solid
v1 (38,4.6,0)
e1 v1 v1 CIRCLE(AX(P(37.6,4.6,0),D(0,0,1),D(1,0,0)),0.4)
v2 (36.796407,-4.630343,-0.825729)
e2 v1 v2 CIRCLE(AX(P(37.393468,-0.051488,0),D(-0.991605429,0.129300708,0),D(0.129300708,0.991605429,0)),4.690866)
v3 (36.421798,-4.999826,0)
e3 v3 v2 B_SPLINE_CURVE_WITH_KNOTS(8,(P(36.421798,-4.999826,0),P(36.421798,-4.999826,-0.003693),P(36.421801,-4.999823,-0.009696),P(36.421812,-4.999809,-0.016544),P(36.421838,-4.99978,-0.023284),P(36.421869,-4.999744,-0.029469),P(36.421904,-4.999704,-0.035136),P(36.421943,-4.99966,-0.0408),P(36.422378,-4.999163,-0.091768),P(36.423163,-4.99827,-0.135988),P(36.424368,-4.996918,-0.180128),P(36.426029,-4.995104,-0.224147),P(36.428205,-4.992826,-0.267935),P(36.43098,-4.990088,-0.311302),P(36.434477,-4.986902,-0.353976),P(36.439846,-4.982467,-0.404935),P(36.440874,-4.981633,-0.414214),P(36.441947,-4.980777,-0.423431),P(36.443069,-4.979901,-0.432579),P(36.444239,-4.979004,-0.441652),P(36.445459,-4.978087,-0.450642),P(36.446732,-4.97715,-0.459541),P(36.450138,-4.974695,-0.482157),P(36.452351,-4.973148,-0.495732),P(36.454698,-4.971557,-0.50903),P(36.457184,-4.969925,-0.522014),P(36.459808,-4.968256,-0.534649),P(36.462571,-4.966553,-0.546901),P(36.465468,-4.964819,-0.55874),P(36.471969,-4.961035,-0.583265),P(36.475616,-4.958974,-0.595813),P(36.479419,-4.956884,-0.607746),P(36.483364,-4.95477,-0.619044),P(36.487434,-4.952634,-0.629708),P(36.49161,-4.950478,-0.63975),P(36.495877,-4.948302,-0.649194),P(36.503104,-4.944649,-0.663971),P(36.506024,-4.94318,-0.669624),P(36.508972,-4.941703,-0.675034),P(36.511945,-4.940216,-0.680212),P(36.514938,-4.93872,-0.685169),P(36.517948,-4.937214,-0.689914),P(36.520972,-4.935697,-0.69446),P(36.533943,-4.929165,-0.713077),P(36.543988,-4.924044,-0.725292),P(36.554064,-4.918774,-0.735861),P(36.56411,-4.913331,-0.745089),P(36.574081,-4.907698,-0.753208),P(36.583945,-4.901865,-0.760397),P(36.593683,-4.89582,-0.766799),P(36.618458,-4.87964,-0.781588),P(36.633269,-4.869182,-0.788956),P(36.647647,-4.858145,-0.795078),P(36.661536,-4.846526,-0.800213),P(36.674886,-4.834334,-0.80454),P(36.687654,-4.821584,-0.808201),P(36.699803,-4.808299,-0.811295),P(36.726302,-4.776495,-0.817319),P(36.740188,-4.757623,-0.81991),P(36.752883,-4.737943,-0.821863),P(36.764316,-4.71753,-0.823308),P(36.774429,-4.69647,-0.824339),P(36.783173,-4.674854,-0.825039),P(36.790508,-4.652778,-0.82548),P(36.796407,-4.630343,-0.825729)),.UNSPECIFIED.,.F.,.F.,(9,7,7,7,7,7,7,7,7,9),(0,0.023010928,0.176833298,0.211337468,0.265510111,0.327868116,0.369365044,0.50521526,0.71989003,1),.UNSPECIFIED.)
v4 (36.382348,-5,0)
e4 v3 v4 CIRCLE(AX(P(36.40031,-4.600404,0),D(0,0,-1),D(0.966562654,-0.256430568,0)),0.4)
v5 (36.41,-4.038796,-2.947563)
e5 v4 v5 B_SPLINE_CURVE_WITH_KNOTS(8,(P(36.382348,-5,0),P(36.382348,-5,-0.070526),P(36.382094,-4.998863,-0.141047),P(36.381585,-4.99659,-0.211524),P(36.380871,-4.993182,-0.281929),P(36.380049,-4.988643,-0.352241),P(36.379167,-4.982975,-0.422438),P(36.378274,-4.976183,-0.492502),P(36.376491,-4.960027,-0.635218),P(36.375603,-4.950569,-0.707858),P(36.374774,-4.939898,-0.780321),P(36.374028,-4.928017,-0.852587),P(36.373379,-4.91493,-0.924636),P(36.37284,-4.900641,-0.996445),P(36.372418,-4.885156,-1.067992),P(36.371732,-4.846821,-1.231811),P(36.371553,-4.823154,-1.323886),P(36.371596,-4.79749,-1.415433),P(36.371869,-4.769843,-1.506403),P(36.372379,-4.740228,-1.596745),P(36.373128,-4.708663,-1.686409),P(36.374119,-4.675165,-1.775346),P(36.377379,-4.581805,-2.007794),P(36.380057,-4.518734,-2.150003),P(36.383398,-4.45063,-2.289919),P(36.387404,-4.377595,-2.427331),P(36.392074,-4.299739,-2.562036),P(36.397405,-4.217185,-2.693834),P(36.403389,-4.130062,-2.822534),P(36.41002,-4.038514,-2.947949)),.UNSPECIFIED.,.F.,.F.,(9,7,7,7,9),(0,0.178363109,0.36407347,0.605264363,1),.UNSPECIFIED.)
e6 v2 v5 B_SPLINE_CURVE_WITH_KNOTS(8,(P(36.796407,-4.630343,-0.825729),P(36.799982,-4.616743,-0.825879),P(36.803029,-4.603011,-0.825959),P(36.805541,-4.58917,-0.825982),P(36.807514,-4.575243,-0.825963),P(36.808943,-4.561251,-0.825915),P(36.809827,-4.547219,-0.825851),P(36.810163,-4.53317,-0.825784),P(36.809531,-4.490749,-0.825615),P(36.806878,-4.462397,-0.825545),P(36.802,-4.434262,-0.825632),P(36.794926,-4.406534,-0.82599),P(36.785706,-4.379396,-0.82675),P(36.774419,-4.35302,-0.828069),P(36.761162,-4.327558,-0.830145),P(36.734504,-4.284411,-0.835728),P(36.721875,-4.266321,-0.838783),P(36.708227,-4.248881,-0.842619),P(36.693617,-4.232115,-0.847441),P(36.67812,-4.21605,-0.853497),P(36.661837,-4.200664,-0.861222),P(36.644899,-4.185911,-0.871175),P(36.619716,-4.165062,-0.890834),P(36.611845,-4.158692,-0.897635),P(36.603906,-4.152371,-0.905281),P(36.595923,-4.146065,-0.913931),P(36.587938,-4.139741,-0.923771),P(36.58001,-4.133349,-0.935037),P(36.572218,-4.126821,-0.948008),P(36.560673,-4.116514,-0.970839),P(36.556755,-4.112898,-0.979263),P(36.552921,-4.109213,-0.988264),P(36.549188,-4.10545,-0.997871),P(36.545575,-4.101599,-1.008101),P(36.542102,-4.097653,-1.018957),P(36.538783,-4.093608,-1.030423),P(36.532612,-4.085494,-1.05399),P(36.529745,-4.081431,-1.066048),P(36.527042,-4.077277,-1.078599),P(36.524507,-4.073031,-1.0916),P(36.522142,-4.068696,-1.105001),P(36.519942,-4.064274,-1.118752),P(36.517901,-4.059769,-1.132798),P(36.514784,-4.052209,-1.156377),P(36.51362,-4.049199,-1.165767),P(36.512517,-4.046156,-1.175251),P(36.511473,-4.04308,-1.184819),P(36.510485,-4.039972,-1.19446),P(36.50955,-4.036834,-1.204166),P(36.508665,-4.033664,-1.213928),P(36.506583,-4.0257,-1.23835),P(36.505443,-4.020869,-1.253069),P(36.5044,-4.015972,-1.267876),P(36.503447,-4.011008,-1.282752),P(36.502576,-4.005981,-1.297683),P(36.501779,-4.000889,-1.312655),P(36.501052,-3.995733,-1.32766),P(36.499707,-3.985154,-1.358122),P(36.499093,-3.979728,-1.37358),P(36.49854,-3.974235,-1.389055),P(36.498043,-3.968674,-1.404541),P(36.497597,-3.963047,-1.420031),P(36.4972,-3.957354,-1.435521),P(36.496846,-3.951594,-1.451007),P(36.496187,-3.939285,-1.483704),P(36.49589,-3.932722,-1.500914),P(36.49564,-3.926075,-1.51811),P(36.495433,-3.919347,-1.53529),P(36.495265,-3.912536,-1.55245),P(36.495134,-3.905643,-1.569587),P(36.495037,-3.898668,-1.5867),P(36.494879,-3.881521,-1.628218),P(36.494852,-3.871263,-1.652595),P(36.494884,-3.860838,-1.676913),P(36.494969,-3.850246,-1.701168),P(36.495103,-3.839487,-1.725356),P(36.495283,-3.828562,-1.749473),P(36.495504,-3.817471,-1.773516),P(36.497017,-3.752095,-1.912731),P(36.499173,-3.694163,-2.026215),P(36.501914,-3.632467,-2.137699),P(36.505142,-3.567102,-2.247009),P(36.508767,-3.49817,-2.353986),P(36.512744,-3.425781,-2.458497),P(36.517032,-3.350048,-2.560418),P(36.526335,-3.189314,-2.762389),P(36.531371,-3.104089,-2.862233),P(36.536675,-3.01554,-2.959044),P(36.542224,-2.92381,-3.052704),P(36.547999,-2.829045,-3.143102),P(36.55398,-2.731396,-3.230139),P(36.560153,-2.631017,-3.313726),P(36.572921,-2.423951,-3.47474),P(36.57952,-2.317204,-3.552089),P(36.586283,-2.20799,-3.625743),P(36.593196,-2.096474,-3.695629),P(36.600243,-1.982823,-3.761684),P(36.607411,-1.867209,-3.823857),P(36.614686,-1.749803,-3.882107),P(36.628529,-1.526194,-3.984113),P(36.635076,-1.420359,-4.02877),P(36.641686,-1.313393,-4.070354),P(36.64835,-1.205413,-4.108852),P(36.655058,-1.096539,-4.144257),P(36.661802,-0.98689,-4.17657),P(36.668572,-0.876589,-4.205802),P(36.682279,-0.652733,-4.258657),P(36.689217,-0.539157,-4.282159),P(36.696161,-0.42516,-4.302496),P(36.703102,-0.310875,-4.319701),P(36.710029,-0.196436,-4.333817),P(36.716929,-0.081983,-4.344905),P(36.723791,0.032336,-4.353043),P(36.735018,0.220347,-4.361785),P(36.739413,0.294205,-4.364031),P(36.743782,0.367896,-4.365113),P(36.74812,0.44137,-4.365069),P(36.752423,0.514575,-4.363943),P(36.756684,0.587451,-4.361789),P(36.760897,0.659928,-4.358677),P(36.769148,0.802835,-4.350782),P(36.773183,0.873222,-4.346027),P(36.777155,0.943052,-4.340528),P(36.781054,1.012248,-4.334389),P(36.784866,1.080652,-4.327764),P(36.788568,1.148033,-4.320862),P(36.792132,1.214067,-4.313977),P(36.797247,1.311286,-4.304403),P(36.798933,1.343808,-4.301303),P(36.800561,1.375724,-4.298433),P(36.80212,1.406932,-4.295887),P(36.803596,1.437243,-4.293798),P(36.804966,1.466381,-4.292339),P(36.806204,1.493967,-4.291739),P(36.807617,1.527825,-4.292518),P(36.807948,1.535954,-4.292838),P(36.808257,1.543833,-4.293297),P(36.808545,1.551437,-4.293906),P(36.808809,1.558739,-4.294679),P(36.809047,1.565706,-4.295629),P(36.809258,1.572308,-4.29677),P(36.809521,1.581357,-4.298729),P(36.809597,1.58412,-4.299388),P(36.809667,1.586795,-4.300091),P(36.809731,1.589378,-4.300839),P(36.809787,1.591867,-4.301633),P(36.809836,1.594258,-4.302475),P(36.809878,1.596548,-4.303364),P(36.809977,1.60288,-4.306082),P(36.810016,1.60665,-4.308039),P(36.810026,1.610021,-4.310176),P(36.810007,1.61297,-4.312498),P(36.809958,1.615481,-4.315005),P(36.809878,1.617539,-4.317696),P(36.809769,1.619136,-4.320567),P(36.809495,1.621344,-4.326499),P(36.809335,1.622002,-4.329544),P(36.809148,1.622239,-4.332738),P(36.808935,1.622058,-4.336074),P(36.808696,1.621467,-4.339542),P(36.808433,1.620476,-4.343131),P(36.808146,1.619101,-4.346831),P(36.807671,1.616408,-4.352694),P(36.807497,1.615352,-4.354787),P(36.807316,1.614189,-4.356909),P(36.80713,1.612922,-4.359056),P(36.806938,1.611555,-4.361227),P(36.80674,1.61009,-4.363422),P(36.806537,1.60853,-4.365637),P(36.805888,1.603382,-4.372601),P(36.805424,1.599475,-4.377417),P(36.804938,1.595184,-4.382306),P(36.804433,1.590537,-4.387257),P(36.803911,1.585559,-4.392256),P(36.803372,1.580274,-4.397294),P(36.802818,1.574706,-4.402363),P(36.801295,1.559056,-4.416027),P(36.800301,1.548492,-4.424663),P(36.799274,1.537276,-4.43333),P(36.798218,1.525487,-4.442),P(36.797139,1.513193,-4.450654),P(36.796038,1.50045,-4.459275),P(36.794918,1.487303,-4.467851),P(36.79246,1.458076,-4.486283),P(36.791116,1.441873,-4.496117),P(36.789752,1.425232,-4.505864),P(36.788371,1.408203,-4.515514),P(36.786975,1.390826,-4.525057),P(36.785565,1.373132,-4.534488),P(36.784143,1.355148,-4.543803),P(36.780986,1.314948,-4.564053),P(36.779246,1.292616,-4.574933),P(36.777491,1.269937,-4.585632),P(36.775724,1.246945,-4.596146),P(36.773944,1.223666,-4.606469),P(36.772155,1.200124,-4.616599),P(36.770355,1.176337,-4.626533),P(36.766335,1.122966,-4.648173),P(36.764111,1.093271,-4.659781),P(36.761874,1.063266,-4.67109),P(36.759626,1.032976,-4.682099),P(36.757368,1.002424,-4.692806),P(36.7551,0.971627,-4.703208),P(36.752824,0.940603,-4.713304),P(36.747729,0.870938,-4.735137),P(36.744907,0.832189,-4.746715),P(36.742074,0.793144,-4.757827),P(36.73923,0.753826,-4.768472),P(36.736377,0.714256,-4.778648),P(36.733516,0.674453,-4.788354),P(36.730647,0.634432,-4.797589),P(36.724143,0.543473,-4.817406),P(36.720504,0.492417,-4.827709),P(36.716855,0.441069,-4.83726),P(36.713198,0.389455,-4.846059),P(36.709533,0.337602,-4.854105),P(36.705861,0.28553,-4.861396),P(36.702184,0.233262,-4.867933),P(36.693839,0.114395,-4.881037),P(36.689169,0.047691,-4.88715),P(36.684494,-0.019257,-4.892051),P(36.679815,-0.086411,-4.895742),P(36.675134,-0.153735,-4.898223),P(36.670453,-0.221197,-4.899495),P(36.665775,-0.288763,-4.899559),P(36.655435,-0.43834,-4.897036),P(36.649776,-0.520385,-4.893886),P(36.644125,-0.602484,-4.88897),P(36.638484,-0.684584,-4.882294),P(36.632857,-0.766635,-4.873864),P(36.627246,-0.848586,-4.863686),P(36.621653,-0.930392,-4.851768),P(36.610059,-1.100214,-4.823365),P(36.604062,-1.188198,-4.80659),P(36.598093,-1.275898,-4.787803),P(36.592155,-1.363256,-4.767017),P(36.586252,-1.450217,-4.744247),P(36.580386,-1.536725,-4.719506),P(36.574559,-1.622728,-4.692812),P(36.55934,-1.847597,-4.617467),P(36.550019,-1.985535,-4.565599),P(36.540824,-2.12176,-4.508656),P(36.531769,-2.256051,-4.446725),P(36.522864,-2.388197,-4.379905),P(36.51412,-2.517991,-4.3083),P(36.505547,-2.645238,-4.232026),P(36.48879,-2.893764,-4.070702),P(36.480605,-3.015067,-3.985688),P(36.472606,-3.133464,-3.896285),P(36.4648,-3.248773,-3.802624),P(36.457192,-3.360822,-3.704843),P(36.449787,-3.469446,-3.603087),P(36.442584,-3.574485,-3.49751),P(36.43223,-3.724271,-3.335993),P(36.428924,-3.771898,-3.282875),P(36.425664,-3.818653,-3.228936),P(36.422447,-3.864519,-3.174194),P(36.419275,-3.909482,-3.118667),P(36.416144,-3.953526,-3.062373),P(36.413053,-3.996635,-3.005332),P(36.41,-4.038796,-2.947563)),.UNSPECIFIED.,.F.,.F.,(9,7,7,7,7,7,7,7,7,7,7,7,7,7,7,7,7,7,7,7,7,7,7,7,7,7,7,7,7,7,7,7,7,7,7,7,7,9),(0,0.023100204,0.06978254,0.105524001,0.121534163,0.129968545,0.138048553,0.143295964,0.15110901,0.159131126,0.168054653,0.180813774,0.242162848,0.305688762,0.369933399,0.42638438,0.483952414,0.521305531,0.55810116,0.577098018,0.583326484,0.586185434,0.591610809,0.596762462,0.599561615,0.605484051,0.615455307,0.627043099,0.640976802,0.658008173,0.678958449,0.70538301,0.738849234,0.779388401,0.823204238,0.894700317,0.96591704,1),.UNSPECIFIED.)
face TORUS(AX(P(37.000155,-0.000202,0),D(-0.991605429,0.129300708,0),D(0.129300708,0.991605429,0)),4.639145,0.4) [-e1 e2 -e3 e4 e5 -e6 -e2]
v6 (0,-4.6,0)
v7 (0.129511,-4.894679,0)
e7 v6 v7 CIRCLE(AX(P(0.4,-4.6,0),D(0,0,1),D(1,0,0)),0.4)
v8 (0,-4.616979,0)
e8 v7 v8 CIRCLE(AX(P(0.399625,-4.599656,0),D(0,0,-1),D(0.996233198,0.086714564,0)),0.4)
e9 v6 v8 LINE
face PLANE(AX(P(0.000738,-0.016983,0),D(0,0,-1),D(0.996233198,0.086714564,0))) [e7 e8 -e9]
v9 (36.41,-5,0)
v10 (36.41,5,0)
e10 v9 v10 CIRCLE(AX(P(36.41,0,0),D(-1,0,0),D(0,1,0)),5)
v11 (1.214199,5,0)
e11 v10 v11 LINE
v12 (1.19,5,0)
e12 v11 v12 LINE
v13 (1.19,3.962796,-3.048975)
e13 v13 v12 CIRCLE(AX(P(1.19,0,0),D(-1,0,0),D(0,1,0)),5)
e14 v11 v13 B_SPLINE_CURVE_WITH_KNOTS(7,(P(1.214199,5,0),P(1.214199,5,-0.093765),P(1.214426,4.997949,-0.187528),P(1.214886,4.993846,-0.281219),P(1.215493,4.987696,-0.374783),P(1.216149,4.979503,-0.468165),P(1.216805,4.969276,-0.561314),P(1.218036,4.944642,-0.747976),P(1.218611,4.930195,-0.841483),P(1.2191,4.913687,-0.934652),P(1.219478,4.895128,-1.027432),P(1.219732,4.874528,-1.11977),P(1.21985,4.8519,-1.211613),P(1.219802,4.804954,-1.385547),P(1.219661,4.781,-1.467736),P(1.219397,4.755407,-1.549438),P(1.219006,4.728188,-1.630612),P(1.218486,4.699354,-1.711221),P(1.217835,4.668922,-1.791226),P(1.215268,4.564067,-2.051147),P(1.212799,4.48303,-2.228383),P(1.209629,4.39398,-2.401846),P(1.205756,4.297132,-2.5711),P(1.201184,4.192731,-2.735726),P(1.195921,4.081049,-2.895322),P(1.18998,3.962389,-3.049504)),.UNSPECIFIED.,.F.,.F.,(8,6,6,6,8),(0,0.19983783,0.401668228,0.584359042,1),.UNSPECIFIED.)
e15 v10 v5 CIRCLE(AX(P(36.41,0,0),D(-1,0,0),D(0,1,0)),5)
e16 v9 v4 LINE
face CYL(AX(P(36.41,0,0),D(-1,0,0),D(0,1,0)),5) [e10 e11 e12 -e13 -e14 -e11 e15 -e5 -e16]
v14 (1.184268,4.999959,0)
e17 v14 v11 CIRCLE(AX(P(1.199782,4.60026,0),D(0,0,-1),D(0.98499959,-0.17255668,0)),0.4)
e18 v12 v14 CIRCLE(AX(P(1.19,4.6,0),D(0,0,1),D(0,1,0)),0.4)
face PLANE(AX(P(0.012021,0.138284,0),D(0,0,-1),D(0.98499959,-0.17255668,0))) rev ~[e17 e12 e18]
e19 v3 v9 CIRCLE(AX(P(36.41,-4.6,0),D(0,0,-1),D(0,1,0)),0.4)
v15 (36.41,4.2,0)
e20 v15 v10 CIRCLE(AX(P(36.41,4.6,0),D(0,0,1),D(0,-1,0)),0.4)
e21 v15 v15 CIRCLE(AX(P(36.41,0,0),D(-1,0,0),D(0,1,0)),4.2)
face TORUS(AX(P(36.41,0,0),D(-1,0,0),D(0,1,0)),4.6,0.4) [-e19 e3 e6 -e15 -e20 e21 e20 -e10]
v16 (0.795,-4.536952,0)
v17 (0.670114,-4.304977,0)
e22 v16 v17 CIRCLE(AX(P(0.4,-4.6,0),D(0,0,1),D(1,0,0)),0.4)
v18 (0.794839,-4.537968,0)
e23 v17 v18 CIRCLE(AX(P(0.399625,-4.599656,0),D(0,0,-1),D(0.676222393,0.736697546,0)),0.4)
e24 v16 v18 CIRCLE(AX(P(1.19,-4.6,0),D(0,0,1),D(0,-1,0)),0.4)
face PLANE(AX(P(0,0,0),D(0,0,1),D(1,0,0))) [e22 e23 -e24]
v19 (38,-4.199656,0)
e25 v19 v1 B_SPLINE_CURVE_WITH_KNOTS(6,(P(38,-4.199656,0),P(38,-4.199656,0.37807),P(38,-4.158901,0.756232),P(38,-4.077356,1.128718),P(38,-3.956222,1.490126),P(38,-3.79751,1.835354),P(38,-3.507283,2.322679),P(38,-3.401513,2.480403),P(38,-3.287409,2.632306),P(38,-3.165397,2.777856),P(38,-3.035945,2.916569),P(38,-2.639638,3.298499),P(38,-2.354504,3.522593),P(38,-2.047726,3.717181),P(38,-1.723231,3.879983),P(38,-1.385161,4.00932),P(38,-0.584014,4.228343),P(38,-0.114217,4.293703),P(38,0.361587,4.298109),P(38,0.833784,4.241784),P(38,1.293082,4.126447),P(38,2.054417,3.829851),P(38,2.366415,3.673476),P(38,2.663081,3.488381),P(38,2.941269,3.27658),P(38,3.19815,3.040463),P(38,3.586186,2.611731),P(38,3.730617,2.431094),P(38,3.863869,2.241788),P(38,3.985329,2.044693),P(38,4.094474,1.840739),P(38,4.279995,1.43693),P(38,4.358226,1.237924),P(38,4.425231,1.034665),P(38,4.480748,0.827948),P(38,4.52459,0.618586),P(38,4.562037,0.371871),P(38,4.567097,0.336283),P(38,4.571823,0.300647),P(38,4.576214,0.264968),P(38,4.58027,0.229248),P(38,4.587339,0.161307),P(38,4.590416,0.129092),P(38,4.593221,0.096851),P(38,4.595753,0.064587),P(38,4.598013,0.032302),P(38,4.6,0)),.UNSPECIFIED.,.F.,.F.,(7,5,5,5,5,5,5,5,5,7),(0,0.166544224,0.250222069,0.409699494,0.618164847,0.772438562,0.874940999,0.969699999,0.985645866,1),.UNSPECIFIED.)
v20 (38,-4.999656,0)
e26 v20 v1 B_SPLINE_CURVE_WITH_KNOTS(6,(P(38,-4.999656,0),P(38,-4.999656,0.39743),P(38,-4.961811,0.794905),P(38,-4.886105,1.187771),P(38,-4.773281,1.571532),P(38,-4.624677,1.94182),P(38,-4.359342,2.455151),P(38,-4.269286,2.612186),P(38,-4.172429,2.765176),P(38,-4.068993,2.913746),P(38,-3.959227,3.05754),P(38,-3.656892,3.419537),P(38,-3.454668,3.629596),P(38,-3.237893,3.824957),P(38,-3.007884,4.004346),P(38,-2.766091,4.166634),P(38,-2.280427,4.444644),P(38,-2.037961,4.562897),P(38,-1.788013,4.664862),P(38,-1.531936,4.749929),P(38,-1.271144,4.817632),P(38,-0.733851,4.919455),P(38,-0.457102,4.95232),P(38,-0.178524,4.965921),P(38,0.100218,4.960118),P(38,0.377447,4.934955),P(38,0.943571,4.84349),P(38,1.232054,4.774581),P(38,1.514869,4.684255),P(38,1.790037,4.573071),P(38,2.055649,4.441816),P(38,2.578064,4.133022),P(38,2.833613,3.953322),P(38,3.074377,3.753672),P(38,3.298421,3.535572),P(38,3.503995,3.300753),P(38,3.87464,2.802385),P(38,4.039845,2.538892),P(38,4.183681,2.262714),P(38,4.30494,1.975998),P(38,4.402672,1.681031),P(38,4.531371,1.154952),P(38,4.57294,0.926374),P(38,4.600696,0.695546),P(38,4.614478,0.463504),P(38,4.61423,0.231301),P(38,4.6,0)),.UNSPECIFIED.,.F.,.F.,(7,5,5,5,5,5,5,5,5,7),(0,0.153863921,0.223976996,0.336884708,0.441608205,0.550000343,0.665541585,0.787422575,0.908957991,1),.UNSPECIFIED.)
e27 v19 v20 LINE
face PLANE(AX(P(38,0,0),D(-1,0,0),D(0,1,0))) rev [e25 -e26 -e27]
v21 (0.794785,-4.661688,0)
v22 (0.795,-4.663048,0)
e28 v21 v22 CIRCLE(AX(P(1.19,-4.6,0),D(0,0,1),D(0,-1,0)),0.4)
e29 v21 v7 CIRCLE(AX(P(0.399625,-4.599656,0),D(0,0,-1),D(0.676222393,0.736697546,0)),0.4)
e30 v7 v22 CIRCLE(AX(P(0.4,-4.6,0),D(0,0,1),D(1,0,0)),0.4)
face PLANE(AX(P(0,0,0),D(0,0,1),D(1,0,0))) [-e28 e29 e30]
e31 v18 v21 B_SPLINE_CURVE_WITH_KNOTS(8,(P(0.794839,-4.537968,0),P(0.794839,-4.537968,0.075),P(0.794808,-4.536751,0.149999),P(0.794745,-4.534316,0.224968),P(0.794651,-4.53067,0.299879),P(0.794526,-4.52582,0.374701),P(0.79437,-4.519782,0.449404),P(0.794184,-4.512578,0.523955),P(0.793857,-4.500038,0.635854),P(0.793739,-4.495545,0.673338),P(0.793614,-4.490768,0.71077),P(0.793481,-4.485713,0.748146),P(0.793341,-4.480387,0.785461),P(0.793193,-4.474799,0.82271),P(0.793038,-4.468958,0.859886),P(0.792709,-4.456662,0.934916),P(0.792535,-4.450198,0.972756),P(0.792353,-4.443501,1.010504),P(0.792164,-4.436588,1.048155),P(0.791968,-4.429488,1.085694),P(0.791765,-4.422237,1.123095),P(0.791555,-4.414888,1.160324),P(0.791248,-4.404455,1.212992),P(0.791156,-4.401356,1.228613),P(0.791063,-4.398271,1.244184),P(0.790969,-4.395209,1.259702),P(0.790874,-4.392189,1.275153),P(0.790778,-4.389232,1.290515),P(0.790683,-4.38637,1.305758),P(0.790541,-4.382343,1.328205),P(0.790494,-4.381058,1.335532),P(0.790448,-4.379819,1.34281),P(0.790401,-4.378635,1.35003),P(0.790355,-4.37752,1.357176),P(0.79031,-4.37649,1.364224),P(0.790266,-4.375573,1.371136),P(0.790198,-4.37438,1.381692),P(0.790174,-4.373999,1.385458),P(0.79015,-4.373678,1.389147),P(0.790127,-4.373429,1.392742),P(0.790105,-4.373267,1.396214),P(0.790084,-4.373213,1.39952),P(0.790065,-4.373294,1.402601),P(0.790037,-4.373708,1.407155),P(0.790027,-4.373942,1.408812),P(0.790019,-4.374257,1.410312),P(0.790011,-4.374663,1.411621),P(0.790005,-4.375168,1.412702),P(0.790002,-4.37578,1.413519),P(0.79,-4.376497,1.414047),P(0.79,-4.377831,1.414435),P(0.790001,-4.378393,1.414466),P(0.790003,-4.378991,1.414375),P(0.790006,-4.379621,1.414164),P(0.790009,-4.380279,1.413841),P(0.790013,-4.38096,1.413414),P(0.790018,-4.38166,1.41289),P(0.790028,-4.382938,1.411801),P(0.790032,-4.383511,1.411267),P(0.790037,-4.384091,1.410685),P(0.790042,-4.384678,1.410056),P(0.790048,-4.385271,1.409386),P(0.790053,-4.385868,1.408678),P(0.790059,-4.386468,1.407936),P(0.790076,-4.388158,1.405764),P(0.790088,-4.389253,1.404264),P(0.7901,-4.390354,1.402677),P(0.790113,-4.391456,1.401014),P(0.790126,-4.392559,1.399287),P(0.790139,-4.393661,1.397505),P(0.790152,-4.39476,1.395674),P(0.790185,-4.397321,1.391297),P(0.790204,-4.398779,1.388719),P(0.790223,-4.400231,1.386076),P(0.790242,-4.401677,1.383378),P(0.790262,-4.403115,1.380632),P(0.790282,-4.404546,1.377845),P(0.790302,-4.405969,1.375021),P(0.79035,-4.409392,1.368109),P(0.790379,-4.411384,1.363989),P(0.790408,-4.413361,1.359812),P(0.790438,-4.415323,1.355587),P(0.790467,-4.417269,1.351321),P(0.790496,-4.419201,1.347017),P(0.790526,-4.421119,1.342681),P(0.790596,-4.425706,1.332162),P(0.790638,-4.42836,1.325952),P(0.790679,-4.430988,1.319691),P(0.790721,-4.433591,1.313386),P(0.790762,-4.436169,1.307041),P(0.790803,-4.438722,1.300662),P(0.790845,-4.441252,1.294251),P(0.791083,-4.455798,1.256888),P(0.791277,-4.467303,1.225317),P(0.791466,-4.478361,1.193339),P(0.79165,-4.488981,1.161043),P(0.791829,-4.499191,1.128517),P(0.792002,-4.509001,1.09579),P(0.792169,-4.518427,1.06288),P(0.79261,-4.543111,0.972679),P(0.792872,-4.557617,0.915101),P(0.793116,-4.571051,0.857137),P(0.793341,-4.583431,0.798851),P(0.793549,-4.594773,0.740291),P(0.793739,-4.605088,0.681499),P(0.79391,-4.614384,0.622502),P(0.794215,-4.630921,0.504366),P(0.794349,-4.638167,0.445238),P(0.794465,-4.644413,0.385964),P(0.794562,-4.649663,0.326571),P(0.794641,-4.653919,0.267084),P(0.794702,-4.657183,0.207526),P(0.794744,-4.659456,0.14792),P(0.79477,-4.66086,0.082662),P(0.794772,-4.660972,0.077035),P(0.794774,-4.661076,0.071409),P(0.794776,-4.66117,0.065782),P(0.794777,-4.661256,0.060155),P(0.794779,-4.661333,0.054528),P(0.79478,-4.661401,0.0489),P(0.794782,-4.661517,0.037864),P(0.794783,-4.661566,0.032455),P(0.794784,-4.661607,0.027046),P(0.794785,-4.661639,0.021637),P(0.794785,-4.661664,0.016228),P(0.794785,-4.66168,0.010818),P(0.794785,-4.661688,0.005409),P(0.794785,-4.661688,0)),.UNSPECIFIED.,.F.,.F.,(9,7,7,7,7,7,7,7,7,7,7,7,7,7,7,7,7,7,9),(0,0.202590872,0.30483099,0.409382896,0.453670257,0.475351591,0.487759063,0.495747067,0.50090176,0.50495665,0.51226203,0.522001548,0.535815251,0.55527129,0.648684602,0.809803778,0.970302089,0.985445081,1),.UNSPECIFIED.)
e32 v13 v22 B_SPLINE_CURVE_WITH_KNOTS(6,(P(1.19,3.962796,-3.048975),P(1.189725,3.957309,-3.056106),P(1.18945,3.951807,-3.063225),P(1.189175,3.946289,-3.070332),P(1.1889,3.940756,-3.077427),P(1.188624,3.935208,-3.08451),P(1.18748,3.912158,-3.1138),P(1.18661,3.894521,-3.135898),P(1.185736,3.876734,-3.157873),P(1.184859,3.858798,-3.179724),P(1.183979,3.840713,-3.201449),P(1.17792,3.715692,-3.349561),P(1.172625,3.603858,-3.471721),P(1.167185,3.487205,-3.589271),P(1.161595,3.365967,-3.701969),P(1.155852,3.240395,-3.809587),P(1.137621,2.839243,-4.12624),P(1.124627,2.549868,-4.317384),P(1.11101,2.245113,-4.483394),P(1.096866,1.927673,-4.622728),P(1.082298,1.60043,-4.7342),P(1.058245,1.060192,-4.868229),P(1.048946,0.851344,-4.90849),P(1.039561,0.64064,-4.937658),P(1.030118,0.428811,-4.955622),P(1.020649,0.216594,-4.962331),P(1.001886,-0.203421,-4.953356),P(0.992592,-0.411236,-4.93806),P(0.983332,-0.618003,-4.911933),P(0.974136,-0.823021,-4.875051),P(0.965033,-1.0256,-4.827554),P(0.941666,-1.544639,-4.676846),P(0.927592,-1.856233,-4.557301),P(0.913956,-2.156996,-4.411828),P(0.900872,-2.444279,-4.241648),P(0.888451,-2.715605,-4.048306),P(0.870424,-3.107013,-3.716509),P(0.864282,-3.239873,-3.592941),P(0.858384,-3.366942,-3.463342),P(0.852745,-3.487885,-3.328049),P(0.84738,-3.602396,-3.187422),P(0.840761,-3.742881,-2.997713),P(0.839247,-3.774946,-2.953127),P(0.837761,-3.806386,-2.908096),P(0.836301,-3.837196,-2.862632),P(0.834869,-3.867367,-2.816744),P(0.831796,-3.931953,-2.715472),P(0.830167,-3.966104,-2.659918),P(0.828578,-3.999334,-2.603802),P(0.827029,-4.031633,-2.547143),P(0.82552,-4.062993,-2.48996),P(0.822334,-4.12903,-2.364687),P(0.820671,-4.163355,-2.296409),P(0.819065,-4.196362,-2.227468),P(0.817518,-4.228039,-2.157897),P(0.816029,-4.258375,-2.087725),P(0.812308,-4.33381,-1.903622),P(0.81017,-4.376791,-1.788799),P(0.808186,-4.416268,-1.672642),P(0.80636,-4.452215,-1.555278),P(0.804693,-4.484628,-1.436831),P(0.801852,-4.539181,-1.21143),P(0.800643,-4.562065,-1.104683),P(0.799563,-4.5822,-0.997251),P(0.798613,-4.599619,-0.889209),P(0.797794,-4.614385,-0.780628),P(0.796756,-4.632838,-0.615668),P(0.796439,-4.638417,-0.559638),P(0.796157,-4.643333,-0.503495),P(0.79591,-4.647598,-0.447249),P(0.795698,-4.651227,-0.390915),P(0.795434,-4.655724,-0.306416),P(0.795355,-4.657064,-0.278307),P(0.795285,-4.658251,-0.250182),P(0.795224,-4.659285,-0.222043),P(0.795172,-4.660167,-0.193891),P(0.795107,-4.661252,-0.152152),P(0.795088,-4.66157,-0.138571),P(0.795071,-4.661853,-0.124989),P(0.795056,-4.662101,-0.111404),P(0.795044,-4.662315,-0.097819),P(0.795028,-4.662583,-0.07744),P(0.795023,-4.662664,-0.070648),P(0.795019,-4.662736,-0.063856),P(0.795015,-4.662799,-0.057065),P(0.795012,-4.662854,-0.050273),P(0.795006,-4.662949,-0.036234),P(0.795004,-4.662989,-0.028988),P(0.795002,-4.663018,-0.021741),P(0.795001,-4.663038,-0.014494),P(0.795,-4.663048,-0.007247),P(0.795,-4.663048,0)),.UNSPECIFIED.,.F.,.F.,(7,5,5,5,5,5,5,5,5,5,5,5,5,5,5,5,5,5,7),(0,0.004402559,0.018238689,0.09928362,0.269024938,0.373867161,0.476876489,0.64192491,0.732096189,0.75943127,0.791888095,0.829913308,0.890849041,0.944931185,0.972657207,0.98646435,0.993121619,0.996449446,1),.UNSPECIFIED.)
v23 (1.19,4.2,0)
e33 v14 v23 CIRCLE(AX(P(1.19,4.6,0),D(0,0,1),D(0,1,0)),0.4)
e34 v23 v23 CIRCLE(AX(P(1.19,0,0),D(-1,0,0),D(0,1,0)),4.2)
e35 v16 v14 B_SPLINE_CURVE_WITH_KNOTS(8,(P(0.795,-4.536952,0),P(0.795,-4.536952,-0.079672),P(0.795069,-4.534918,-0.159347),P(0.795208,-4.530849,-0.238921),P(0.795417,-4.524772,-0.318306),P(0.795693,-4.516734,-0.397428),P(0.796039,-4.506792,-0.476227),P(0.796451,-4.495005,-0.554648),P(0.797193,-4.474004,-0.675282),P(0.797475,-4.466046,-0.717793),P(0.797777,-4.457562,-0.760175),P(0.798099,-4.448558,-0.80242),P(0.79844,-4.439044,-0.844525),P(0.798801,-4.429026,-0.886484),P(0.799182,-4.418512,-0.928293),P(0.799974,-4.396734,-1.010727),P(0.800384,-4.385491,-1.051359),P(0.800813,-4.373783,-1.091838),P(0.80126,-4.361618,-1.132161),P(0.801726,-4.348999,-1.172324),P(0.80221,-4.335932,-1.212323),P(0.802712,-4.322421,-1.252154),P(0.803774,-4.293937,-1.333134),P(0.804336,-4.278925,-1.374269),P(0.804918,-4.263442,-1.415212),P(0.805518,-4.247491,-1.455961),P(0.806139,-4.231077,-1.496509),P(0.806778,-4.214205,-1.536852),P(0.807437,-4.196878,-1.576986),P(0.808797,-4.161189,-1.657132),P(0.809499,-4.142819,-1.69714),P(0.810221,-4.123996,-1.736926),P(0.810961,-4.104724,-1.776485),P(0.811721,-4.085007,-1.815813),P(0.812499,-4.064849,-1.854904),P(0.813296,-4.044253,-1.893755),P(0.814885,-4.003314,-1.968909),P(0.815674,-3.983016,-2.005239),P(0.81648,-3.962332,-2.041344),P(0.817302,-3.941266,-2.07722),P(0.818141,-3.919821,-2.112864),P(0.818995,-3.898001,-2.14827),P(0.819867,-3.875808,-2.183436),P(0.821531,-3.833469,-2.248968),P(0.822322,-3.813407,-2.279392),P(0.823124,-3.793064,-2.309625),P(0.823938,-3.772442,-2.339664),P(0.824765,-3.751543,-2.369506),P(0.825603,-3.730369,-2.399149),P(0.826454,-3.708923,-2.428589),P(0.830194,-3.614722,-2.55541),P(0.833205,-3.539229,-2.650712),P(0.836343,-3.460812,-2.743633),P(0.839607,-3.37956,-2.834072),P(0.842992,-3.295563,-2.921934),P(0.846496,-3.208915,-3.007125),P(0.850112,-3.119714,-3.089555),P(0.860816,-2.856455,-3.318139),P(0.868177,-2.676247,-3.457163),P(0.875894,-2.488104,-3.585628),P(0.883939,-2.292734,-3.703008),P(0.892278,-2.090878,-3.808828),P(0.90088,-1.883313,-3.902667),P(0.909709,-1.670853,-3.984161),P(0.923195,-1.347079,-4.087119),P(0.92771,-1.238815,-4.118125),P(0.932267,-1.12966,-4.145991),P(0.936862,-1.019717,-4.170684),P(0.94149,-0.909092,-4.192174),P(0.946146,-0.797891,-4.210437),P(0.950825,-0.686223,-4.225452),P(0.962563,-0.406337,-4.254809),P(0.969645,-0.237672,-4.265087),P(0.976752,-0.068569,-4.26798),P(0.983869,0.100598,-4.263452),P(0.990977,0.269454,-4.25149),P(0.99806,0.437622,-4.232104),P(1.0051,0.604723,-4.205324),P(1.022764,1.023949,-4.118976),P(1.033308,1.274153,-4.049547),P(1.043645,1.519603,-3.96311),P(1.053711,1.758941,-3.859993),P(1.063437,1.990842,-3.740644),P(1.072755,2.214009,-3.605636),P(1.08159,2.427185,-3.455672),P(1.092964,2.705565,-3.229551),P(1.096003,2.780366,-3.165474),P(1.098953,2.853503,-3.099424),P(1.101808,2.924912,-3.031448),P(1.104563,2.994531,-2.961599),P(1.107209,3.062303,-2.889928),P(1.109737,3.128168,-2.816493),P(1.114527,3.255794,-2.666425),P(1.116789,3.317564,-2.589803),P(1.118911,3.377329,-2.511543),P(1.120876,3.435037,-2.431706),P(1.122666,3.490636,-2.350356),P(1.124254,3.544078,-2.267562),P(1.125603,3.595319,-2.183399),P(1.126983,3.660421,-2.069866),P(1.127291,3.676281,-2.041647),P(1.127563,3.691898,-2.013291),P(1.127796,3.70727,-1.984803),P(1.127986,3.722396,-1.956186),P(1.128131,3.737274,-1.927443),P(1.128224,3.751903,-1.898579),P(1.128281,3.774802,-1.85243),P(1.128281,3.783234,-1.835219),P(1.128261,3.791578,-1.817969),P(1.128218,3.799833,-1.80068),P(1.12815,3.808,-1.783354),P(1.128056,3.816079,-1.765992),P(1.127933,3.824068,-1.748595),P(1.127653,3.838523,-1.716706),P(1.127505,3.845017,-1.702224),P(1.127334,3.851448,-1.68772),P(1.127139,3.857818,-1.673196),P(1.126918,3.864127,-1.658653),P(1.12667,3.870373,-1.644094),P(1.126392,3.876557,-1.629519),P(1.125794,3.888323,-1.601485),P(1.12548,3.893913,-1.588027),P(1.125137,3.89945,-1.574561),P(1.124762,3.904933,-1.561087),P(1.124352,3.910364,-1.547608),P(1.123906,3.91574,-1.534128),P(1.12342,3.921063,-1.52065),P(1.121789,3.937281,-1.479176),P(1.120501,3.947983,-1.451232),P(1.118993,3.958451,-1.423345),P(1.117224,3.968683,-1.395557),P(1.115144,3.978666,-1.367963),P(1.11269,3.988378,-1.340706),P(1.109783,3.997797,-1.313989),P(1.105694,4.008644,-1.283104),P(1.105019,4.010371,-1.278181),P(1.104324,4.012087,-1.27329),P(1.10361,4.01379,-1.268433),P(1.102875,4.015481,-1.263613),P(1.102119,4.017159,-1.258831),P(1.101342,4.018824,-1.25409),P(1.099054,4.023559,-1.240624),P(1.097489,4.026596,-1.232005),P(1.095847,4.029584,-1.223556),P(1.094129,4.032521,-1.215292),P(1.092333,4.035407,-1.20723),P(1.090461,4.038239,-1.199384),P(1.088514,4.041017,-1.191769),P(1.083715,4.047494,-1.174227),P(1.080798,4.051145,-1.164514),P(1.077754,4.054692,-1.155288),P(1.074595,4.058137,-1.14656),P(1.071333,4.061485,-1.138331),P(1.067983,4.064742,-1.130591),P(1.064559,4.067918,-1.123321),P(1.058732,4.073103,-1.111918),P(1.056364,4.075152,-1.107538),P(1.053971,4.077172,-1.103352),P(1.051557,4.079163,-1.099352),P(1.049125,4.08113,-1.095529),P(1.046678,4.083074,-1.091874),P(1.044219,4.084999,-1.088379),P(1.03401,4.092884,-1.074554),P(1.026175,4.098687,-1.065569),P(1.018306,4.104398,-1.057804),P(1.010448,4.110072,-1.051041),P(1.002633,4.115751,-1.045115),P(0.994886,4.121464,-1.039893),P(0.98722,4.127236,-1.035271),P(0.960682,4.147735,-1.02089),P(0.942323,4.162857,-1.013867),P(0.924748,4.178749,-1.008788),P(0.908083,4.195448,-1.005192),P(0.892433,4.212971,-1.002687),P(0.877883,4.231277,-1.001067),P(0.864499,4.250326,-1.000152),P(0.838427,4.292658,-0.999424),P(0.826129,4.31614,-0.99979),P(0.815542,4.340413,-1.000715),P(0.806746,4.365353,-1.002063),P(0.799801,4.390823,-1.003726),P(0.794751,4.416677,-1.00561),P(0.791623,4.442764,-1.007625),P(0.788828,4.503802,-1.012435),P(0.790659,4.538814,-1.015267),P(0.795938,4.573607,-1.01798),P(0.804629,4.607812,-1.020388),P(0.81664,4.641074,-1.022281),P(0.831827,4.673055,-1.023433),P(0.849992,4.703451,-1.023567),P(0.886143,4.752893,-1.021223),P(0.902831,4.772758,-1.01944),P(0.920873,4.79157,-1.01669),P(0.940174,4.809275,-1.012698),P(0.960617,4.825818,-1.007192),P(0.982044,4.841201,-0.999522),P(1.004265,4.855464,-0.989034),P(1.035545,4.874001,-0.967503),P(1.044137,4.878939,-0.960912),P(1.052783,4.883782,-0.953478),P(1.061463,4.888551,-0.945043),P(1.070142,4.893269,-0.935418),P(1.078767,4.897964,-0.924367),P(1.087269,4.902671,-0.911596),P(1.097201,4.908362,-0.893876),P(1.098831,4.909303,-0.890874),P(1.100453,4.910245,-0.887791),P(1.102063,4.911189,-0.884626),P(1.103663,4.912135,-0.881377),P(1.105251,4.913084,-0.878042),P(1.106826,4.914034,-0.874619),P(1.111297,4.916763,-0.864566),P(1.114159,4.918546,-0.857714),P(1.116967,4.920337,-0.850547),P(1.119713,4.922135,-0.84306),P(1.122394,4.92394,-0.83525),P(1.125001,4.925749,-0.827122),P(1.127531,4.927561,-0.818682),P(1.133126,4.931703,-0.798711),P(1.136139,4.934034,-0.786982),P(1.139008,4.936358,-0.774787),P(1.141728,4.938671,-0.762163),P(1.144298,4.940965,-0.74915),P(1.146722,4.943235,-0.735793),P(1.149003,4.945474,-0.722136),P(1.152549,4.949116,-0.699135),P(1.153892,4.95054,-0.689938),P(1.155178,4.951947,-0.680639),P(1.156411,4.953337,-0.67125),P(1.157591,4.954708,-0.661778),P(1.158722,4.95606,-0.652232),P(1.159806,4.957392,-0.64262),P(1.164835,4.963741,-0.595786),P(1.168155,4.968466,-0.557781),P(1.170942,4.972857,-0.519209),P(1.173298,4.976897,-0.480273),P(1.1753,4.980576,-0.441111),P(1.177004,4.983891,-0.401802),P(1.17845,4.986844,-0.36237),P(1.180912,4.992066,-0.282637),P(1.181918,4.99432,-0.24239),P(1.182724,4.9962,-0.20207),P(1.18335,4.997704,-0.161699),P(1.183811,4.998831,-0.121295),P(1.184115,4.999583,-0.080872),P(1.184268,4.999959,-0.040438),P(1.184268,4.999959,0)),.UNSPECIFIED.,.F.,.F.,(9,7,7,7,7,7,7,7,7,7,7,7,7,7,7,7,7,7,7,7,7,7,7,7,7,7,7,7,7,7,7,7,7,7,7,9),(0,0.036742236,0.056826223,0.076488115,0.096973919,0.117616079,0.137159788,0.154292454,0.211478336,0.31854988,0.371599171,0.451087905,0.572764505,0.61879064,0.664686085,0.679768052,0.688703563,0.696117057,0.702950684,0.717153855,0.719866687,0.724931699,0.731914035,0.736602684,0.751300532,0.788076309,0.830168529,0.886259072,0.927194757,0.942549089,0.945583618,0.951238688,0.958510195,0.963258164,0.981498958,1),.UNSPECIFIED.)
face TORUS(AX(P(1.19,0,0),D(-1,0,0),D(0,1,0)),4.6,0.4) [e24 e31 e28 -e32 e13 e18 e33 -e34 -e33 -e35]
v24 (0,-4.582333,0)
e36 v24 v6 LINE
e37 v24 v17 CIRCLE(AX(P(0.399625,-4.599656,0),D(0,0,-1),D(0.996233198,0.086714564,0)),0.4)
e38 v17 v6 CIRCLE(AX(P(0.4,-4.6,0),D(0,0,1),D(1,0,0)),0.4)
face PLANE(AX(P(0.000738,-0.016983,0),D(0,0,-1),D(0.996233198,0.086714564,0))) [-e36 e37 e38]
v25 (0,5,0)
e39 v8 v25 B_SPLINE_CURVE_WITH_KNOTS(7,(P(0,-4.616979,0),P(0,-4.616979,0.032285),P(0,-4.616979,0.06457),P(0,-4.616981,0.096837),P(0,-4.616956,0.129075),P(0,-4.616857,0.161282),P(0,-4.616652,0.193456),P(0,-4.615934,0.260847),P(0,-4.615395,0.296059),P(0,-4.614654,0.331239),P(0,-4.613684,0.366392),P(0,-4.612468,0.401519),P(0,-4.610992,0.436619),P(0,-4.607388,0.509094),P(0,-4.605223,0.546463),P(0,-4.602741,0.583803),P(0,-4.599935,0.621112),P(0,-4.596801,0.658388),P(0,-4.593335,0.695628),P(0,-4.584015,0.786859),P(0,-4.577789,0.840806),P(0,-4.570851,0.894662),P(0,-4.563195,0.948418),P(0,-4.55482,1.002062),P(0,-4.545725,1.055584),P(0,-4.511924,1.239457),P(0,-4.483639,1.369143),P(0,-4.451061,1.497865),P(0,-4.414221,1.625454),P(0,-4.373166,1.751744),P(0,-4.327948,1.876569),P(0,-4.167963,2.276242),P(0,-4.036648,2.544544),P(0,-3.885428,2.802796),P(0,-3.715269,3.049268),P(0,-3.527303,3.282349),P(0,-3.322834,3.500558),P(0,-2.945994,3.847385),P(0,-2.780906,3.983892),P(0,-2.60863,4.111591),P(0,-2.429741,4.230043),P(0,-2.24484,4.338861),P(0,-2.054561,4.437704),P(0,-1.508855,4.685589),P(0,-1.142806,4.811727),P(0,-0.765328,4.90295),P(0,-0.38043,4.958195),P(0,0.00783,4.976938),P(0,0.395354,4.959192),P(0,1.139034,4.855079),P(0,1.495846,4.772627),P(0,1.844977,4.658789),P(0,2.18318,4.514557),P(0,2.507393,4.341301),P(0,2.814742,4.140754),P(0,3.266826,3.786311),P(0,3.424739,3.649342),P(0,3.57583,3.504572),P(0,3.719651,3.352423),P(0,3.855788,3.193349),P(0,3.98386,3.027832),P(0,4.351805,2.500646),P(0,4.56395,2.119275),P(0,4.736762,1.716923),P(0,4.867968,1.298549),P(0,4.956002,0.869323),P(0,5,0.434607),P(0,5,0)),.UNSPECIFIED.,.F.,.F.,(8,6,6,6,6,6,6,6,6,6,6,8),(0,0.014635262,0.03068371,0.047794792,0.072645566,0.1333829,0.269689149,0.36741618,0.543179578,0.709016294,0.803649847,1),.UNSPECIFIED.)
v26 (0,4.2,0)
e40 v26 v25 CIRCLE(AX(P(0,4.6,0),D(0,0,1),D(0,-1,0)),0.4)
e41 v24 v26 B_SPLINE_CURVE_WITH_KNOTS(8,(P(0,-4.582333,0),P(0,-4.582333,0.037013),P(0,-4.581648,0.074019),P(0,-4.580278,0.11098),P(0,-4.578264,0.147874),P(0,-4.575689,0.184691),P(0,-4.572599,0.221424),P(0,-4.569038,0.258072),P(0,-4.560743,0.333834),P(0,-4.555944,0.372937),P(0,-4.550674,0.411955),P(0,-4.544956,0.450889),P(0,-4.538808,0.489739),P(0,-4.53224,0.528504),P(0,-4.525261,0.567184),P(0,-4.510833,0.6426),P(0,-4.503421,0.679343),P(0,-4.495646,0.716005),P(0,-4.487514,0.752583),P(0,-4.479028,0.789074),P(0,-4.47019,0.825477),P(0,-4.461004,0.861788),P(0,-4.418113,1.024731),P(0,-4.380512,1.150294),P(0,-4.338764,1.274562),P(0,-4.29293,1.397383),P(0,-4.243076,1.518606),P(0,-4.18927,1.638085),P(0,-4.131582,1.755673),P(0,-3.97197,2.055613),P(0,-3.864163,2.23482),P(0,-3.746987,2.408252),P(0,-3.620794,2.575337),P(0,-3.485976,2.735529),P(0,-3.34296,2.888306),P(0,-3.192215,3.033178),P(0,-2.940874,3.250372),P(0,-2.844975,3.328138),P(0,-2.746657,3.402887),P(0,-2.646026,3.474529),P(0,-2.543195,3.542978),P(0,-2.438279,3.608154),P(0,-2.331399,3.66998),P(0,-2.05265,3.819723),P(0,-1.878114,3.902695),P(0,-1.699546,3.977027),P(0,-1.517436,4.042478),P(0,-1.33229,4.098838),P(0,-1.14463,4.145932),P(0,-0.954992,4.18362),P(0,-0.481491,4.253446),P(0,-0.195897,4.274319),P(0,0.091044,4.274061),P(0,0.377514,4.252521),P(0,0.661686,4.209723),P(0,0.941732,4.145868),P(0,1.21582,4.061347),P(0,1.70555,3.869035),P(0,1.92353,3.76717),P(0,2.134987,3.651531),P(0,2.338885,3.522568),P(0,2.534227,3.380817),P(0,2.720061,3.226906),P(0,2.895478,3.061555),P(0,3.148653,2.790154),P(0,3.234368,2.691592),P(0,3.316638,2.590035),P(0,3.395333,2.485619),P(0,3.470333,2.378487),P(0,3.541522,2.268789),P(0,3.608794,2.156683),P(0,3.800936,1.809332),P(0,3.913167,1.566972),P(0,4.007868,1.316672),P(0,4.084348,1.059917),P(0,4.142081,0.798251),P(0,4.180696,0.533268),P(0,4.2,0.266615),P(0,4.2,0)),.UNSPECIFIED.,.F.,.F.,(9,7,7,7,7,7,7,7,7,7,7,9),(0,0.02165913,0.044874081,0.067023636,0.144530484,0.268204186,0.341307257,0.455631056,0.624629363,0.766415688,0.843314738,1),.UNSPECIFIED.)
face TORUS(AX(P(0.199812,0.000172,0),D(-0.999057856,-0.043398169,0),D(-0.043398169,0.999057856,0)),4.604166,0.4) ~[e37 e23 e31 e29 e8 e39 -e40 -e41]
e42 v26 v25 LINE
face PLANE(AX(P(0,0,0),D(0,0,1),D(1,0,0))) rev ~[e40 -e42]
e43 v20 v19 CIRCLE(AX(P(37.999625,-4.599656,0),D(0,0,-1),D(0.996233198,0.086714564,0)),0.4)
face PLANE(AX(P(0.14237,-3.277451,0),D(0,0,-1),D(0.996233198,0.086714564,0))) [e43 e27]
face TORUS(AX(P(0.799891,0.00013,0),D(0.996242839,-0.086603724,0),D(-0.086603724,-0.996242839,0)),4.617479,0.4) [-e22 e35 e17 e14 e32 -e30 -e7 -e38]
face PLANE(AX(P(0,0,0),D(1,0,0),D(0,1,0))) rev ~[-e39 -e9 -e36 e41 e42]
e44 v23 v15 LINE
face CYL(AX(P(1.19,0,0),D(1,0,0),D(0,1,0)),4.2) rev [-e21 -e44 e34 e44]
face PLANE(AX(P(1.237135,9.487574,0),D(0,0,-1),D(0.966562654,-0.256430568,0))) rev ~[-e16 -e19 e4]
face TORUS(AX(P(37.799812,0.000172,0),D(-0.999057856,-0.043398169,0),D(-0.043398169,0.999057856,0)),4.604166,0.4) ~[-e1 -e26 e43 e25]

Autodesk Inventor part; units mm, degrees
ref_plane "YZ Plane" through (0, 0, 0) normal (1, 0, 0) x (0, 1, 0)
ref_plane "XZ Plane" through (0, 0, 0) normal (0, 1, 0) x (-1, 0, 0)
ref_plane "XY Plane" through (0, 0, 0) normal (0, 0, 1) x (1, 0, 0)
sketch "Sketch_14" plane through (0, 0, 0) normal (0, 0, 1) x (1, 0, 0)
  line L0 (-3.8, 0.4) -> (5.4, -0.4)
  circle A0 centre (0.4, -4.6) radius 0.4
revolve "Revolution1" add sketch "Sketch_14" angle 180 about axis through (-3.8, 0.4, 0) along (0.9962, -0.0866, 0)
sketch "Sketch_5" plane through (0, 0, 0) normal (0, 0, 1) x (1, 0, 0)
  line L0 (4.8, 0.2) -> (-4.4, -0.2)
  circle A0 centre (0, 4.6) radius 0.4
revolve "Revolution2" add sketch "Sketch_5" angle 180 about axis through (4.8, 0.2, 0) along (0.9991, 0.0434, 0)
sketch "Sketch_6" plane through (0, 0, 0) normal (0, 0, 1) x (1, 0, 0)
  line L0 (0, 0) -> (-0.8, 0)
  line L1 (-0.8, 0) -> (-0.8, 10)
  line L2 (-0.8, 10) -> (0, 10)
  line L3 (0, 10) -> (0, 0)
  line L4 (0, 0) -> (-0.8, 0)
revolve "Revolution3" cut sketch "Sketch_6" angle 360 about axis through (0, 0, 0) along (1, 0, 0)
sketch "Sketch_30" plane through (0, 0, 0) normal (0, 0, 1) x (1, 0, 0)
  line L0 (38, 0) -> (-38, 0)
  arc A0 (1.19, 5) -> (1.19, 4.2) centre (1.19, 4.6) ccw
  line L1 (1.19, 4.2) -> (36.41, 4.2)
  arc A1 (36.41, 4.2) -> (36.41, 5) centre (36.41, 4.6) ccw
  line L2 (36.41, 5) -> (1.19, 5)
revolve "Revolution4" add sketch "Sketch_30" angle 360 about axis through (38, 0, 0) along (-1, 0, 0)
sketch "Sketch_18" plane through (0, 0, 0) normal (0, 0, 1) x (1, 0, 0)
  line L0 (41.6, -0.6) -> (32.4, 0.6)
  circle A0 centre (37.6, 4.6) radius 0.4
revolve "Revolution5" add sketch "Sketch_18" angle 180 about axis through (41.6, -0.6, 0) along (-0.9916, 0.1293, 0)
sketch "Sketch_19" plane through (0, 0, 0) normal (0, 0, 1) x (1, 0, 0)
  line L0 (42.4, 0.2) -> (33.2, -0.2)
  circle A0 centre (37.6, 4.6) radius 0.4
revolve "Revolution6" add sketch "Sketch_19" angle 180 about axis through (42.4, 0.2, 0) along (0.9991, 0.0434, 0)
sketch "Sketch_20" plane through (0, 0, 0) normal (0, 0, 1) x (1, 0, 0)
  line L0 (38.8, 0) -> (38, 0)
  line L1 (38, 0) -> (38, 10)
  line L2 (38, 10) -> (38.8, 10)
  line L3 (38.8, 10) -> (38.8, 0)
  line L4 (38.8, 0) -> (38, 0)
revolve "Revolution7" cut sketch "Sketch_20" angle 360 about axis through (38.8, 0, 0) along (-1, 0, 0)
properties part number "C206 (38)3d"
